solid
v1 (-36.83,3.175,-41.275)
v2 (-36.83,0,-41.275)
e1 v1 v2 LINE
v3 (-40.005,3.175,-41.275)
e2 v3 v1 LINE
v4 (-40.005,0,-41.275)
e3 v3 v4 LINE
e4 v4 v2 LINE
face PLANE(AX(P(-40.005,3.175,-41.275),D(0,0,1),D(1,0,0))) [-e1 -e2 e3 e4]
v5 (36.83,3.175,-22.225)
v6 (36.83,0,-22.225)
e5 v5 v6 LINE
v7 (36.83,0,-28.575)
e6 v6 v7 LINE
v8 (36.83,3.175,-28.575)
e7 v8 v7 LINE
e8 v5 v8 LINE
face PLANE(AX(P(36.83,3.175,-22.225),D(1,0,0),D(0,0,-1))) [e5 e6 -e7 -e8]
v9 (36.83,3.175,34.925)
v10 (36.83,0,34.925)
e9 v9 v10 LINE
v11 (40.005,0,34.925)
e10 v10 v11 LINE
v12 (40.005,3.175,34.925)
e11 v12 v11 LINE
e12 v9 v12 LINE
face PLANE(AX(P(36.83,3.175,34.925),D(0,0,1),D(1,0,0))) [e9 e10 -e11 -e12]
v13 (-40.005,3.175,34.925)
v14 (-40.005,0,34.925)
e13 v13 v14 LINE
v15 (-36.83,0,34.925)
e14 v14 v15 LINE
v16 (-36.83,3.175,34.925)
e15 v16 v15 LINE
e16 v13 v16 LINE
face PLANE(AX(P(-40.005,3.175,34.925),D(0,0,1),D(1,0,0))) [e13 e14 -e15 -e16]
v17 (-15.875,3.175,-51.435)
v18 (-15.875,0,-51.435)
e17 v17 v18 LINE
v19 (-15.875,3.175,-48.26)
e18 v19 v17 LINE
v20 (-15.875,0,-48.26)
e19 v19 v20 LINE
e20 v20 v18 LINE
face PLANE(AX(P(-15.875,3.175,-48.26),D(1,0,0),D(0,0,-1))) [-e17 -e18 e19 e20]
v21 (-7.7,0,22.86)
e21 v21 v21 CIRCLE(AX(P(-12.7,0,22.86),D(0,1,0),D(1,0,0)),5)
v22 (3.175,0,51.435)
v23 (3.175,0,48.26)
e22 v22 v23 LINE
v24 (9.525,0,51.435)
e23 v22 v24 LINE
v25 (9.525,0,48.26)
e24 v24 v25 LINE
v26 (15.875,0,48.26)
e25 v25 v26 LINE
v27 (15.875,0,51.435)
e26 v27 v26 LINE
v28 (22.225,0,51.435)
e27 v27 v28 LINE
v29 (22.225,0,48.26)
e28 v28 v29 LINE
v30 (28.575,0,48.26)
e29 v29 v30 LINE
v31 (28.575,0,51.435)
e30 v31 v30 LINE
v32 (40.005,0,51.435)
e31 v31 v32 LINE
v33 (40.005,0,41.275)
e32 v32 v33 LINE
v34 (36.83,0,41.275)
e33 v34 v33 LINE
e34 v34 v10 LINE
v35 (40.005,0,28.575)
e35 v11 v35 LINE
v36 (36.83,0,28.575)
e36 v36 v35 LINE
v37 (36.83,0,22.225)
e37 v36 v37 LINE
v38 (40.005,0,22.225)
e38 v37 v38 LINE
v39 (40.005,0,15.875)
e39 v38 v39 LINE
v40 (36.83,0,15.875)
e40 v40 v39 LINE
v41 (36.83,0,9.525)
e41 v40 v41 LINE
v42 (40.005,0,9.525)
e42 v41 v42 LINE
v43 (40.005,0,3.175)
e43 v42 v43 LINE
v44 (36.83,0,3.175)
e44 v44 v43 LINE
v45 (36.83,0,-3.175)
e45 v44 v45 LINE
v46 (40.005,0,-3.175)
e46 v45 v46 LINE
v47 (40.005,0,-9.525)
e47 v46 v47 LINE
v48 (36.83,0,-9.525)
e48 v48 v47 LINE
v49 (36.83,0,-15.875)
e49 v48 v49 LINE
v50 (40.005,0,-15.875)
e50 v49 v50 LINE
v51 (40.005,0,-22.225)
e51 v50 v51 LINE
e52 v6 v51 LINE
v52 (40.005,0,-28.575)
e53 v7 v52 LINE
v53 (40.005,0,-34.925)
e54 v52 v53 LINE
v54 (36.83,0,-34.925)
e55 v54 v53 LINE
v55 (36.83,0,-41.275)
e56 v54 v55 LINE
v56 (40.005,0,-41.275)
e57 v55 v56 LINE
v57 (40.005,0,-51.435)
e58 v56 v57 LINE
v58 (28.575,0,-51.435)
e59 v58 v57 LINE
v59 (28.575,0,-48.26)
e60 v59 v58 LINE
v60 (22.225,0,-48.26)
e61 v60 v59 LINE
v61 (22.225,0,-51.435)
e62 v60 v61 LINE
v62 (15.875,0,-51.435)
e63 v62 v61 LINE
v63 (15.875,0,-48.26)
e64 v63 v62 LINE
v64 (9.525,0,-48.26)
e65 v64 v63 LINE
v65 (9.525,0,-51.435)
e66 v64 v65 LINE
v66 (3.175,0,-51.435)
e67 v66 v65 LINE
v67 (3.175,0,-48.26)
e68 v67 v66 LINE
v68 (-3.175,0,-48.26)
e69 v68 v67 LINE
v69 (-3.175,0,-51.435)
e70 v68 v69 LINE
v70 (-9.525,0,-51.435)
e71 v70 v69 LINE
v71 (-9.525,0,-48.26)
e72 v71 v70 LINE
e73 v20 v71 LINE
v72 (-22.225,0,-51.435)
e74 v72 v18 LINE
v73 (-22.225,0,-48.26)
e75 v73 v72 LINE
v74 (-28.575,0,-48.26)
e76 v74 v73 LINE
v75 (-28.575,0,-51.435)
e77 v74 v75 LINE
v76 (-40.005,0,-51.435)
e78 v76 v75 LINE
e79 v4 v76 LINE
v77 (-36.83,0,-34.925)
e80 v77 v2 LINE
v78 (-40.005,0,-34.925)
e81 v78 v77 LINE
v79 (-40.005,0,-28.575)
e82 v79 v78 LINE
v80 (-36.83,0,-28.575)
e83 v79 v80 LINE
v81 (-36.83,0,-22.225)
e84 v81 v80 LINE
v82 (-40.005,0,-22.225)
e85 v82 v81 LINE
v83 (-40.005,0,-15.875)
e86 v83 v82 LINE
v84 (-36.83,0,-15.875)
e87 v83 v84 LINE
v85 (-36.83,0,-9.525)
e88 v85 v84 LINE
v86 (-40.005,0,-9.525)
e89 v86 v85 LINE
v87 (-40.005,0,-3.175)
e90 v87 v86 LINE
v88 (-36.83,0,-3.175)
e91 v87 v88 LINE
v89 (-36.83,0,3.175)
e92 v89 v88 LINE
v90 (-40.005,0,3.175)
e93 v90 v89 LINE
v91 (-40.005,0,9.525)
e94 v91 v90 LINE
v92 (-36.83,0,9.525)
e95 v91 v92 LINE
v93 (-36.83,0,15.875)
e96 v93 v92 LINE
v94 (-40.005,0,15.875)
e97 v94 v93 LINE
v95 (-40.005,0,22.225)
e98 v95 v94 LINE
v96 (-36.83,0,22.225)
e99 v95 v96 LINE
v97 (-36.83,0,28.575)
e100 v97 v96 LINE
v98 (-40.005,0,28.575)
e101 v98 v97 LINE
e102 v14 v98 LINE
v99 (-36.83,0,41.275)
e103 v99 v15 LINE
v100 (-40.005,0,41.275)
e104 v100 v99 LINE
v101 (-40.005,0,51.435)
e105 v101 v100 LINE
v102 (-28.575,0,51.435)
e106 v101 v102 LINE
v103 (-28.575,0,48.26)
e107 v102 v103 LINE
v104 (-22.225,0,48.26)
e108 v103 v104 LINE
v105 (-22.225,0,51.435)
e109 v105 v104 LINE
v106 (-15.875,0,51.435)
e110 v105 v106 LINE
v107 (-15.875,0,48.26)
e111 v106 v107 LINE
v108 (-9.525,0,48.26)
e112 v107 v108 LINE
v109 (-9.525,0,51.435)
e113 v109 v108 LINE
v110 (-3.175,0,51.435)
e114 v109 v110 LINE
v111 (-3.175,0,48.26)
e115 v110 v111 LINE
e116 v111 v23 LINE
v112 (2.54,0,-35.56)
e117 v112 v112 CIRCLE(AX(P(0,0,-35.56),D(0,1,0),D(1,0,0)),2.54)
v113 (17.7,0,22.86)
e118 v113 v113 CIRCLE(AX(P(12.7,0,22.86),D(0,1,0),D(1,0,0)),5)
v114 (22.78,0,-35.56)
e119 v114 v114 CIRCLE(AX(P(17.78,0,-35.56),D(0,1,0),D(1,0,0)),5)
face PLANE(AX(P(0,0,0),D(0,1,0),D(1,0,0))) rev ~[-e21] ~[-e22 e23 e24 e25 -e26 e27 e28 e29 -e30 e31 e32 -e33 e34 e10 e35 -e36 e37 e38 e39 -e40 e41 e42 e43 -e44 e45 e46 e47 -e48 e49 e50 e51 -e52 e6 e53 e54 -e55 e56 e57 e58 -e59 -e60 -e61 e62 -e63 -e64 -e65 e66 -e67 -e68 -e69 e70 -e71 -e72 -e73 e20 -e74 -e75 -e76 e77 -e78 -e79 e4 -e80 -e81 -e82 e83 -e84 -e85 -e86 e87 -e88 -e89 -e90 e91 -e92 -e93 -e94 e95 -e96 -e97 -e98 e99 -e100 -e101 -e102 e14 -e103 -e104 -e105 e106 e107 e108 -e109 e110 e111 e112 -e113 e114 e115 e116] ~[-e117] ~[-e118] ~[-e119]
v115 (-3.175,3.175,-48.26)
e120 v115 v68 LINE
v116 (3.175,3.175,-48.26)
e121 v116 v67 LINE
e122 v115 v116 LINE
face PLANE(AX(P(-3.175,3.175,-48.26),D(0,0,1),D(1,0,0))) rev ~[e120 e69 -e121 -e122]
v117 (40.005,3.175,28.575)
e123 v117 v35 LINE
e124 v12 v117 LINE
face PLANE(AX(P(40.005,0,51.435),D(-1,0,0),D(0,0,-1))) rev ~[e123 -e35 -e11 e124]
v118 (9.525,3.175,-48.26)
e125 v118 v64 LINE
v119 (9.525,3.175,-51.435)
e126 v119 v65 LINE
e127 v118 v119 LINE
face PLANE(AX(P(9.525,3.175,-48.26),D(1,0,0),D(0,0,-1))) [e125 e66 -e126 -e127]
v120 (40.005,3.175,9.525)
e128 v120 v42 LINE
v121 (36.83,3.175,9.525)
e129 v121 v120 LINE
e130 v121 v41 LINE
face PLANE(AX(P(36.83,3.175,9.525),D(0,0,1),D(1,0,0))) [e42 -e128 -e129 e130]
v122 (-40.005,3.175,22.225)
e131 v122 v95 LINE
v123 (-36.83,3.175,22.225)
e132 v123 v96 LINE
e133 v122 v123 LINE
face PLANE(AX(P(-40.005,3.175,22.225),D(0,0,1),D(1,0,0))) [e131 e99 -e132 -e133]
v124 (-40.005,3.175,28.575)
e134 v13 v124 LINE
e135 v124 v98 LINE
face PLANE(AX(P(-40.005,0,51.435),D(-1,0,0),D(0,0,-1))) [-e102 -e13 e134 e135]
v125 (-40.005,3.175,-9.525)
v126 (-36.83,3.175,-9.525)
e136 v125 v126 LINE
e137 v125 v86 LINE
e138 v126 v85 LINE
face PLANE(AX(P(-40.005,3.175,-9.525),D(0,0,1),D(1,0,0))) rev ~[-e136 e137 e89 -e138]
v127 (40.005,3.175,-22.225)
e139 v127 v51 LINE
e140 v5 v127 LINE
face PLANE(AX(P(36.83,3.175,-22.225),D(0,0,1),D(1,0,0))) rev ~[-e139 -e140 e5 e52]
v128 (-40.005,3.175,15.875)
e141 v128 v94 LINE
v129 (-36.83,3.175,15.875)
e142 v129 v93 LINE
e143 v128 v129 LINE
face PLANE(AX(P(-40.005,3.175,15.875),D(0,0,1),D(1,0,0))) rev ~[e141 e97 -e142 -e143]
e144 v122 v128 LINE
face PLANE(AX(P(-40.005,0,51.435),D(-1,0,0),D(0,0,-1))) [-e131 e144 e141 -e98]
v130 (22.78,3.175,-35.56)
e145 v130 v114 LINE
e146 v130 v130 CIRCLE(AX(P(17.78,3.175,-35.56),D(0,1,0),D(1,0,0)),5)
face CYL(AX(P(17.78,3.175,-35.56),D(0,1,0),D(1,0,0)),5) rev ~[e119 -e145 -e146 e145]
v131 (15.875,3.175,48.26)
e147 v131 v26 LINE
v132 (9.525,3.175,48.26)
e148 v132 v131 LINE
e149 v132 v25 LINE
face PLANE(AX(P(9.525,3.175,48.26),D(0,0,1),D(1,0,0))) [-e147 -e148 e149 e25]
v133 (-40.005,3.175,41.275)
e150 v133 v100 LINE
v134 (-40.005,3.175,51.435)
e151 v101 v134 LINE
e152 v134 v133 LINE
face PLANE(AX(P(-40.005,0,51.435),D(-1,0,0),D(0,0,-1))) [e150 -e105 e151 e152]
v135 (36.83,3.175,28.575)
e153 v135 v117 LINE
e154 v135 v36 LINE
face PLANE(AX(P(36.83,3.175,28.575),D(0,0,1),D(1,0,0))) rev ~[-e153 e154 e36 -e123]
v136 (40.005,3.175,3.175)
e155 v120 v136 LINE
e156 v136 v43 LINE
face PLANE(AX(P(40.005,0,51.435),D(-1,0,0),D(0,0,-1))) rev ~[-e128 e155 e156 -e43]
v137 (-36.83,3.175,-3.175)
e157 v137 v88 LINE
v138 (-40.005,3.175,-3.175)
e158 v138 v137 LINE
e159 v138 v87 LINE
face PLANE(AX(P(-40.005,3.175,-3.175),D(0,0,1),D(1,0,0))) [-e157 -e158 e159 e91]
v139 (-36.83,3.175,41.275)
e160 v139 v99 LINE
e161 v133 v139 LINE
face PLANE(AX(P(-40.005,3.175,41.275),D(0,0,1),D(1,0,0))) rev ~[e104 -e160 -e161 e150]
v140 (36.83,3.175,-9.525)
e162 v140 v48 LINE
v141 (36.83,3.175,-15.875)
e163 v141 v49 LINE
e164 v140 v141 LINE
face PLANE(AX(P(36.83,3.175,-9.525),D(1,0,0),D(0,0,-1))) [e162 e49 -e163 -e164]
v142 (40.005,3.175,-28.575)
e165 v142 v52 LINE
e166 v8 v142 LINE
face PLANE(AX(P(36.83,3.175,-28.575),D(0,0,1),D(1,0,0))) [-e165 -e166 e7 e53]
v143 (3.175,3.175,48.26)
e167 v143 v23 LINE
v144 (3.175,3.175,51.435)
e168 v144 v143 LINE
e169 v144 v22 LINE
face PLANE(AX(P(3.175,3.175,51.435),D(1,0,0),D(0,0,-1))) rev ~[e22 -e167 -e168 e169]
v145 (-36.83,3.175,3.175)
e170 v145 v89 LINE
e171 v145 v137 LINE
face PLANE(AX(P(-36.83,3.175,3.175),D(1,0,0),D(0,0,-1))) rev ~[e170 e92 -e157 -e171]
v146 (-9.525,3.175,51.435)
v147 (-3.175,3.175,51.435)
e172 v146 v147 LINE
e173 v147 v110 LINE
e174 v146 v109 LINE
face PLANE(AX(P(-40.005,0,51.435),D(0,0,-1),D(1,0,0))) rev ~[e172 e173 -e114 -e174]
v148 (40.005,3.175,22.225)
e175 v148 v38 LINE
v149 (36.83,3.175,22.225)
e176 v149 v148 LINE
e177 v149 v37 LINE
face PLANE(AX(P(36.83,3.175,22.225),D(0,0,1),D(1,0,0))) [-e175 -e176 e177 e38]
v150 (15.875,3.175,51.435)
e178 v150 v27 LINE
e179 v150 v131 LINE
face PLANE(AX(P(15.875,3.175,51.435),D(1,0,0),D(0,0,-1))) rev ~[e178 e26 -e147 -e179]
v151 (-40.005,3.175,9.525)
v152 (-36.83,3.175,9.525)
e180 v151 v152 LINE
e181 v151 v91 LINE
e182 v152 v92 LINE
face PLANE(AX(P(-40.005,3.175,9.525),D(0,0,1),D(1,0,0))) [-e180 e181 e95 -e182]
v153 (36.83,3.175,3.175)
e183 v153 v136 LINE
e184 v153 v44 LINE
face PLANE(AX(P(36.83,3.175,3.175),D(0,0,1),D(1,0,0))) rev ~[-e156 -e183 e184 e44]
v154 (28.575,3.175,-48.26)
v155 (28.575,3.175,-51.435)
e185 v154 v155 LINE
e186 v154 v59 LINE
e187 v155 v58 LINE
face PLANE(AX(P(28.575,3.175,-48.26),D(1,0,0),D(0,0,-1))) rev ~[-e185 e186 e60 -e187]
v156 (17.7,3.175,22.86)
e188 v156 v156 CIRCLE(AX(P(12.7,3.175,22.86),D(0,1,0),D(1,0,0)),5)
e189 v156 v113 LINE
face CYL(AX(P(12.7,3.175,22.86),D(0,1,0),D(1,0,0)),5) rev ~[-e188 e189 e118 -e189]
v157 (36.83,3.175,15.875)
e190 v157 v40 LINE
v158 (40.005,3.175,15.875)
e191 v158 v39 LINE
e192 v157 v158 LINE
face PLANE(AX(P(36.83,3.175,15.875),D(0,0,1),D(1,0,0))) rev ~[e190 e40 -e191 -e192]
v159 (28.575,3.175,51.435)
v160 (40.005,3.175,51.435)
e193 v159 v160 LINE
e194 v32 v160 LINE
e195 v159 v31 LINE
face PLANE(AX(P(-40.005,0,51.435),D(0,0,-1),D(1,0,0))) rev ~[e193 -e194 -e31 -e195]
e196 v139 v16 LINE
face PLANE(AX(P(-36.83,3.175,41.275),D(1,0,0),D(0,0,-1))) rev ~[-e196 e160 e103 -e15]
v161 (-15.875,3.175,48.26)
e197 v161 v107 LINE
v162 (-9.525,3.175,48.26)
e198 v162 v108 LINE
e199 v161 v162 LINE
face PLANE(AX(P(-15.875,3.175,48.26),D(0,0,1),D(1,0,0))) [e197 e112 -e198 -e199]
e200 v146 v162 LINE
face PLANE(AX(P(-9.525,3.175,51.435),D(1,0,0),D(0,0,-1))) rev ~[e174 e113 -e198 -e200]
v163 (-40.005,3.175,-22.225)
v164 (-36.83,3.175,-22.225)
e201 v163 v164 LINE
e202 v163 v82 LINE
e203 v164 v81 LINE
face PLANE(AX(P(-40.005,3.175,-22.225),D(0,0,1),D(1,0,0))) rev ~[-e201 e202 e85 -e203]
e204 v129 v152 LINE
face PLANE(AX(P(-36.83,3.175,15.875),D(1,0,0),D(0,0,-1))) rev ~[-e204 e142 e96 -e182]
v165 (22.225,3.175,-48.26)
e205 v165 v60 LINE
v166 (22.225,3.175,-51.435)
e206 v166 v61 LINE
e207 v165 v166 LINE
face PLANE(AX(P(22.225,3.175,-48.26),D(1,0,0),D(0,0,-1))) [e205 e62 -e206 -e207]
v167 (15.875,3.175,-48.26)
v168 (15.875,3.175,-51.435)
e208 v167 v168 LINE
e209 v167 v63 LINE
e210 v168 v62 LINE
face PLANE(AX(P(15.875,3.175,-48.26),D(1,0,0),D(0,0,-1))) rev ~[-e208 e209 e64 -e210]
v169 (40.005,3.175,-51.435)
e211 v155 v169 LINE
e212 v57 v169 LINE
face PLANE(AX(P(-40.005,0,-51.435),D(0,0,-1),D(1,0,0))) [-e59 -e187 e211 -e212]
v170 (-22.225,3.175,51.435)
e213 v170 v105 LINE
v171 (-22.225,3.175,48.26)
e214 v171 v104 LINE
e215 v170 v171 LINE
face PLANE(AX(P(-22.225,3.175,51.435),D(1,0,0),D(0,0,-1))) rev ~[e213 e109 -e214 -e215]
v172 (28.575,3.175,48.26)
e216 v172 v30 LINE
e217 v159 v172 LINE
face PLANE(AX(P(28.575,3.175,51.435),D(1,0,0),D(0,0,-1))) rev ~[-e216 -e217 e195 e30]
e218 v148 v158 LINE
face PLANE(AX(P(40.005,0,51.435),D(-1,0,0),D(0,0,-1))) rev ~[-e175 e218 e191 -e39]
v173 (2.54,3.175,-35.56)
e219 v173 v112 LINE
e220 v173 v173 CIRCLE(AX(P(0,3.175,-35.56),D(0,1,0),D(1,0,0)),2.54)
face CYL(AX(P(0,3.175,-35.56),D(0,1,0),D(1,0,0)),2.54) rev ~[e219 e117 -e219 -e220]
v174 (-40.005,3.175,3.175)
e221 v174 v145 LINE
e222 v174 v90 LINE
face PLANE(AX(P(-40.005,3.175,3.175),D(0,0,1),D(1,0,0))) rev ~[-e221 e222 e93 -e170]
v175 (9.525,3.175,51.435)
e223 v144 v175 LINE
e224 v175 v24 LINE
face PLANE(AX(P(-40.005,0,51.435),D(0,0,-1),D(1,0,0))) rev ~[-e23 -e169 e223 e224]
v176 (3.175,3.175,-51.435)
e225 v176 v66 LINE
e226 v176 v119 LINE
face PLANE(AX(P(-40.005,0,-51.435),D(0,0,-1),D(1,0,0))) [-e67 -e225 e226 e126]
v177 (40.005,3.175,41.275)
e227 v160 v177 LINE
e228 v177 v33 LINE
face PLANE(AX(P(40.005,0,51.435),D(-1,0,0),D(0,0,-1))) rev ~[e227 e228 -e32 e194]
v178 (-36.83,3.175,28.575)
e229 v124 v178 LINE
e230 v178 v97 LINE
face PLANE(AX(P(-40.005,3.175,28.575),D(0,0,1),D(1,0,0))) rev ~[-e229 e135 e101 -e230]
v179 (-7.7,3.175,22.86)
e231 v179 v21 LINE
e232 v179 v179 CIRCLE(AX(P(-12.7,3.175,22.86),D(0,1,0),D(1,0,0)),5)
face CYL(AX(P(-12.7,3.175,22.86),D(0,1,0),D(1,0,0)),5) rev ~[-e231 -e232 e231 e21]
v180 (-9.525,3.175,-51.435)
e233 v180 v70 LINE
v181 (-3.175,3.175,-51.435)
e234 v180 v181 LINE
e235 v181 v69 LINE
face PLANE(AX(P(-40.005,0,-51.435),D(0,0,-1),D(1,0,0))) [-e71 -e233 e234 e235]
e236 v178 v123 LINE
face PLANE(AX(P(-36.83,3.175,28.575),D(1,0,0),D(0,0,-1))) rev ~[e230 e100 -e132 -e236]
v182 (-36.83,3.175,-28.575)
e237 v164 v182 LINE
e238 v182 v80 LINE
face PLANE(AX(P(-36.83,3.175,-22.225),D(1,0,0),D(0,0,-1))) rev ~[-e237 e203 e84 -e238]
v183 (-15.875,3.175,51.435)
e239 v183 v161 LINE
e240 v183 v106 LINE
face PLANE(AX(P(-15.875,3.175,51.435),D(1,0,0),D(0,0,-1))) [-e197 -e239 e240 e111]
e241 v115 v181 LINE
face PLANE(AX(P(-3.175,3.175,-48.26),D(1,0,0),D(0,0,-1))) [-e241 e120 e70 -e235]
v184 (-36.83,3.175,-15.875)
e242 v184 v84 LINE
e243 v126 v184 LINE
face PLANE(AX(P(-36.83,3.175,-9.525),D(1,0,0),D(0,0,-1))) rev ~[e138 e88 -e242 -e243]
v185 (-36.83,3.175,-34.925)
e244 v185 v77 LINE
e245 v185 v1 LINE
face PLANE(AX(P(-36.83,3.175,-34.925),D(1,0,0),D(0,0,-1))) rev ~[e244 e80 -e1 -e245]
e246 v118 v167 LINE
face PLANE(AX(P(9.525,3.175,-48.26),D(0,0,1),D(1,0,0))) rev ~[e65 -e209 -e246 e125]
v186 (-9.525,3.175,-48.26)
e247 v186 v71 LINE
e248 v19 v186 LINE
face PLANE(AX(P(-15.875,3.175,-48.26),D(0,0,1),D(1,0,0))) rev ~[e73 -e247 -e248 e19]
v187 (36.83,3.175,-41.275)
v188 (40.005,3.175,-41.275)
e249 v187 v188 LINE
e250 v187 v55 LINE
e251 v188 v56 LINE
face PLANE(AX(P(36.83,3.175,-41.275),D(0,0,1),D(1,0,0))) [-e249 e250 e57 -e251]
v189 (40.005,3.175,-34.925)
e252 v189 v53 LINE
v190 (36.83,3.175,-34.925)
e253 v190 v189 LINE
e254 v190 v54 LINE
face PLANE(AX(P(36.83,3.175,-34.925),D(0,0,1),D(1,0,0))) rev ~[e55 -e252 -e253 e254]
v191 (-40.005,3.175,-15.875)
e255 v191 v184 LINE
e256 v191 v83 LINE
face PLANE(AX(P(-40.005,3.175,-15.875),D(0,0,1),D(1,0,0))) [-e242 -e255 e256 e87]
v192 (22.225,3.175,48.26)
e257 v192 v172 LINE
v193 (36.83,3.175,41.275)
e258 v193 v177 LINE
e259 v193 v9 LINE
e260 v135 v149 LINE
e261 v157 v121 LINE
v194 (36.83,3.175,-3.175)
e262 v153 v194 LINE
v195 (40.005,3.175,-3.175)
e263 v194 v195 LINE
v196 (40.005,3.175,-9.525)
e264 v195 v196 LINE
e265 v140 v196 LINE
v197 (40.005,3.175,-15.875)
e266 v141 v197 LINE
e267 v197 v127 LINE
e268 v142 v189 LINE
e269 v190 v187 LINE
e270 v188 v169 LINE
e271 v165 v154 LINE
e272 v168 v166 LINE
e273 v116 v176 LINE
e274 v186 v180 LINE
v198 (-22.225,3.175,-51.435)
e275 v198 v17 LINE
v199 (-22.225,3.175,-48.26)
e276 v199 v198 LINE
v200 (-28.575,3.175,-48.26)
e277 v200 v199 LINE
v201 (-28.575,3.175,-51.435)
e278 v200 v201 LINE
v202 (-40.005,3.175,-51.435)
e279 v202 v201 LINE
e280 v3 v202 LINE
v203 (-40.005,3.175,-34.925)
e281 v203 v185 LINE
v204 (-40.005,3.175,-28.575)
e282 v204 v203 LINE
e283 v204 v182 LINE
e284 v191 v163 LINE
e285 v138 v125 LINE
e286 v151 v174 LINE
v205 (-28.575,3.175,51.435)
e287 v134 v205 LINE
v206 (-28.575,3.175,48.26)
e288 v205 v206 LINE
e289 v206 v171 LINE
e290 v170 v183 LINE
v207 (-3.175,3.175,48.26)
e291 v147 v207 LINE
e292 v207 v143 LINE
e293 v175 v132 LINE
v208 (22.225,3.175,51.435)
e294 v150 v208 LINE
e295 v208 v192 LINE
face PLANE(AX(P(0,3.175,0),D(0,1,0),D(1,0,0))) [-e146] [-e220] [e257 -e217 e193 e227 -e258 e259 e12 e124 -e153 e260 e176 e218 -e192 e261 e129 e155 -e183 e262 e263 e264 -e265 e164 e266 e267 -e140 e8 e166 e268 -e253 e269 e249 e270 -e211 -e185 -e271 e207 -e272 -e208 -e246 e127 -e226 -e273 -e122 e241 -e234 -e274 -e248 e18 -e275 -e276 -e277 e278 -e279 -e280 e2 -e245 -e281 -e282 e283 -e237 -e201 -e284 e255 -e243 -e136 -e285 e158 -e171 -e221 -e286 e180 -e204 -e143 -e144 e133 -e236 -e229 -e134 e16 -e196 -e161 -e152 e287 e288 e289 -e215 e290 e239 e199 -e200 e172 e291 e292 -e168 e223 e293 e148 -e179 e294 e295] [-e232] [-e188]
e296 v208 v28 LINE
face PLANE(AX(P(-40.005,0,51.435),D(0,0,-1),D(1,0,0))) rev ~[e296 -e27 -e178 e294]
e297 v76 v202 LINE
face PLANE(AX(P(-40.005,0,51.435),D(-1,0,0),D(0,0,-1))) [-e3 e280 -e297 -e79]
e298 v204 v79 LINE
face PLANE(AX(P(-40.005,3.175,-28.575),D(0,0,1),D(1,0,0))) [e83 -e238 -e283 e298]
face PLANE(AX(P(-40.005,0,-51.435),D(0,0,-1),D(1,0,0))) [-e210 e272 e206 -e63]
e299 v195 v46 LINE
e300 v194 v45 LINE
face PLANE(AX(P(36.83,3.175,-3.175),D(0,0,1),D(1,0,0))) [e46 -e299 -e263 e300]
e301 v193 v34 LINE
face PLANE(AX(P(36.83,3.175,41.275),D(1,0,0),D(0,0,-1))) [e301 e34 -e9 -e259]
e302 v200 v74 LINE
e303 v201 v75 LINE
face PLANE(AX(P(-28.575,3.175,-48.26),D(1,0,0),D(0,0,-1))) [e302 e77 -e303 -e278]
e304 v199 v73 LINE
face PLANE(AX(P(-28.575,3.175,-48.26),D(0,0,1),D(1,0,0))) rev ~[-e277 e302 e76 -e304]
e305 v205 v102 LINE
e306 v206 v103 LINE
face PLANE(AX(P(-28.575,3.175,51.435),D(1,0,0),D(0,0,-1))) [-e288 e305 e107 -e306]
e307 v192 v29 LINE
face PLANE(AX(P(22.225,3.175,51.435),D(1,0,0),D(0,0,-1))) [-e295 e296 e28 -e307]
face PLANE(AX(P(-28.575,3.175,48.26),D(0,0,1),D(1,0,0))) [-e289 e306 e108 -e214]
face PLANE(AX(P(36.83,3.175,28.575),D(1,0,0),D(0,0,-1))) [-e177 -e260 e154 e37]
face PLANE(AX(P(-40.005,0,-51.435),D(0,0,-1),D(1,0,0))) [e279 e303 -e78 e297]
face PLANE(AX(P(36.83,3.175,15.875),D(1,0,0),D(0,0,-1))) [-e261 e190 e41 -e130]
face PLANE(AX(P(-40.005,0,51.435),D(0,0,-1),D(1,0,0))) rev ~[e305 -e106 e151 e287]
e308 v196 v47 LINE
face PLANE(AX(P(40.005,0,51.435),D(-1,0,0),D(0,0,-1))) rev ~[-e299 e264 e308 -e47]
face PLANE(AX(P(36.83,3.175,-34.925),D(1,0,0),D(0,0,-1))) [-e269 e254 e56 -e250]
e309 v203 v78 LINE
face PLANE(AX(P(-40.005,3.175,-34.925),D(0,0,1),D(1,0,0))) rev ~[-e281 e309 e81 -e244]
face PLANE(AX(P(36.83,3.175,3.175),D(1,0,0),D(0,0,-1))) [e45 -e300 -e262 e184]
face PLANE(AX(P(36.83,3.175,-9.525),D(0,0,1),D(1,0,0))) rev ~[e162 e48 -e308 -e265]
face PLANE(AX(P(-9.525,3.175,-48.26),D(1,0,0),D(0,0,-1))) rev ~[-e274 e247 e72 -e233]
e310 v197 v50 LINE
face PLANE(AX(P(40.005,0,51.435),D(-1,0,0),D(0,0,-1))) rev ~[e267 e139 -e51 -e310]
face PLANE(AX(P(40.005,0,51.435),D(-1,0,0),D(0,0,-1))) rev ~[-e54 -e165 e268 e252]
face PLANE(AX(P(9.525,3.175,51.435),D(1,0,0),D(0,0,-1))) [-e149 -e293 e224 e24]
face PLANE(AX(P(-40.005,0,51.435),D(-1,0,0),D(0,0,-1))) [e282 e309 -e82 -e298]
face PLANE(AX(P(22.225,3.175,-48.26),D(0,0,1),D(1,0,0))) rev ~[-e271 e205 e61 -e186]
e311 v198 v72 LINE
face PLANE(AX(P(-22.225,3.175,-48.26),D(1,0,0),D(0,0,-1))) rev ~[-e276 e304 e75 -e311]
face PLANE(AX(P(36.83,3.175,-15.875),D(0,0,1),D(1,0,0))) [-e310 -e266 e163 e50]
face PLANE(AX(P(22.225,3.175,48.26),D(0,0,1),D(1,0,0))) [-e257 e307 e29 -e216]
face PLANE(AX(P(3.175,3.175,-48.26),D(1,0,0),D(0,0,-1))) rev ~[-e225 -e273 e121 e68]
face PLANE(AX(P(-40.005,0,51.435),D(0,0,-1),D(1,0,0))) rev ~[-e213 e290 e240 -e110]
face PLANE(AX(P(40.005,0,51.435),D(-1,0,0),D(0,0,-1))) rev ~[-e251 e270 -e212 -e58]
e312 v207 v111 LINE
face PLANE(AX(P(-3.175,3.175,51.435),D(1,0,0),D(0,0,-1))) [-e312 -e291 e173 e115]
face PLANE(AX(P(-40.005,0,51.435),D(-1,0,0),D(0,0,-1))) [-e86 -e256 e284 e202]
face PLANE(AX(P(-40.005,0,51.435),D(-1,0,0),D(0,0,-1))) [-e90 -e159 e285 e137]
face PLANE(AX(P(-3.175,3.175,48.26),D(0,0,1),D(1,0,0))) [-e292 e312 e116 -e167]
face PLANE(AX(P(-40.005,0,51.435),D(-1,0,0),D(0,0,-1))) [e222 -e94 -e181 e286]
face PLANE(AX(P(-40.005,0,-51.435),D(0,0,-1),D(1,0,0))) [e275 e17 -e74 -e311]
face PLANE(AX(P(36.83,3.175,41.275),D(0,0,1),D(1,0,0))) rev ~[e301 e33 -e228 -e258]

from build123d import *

# Parameters (mm, degrees)
SKETCH1_W           = 80.01
SKETCH1_H           = 102.87
BOSS_EXTRUDE1_DEPTH = 3.175
SKETCH2_W           = 3.175
SKETCH2_H           = 6.35
CUT_EXTRUDE1_DEPTH  = 4.175
SKETCH3_W           = 6.35
SKETCH3_H           = 3.175
CUT_EXTRUDE2_DEPTH  = 4.175
SKETCH4_R           = 2.54
SKETCH4_R_2         = 5
CUT_EXTRUDE3_DEPTH  = 4.175


with BuildPart() as part:
    # Sketch1 → Boss-Extrude1 (new body)
    with BuildSketch(Plane(origin=(0, 0, 0), x_dir=(1, 0, 0), z_dir=(0, 1, 0))):
        Rectangle(SKETCH1_W, SKETCH1_H)
    extrude(amount=BOSS_EXTRUDE1_DEPTH)

    # Sketch2 → Cut-Extrude1 (cut, through all)
    with BuildSketch(Plane(origin=(0, 3.175, 0), x_dir=(1, 0, 0), z_dir=(0, 1, 0))):
        with Locations((-38.4175, -38.1)):
            Rectangle(SKETCH2_W, SKETCH2_H)
        with Locations((-38.4175, -25.4)):
            Rectangle(SKETCH2_W, SKETCH2_H)
        with Locations((-38.4175, -12.7)):
            Rectangle(SKETCH2_W, SKETCH2_H)
        with Locations((-38.4175, 0)):
            Rectangle(SKETCH2_W, SKETCH2_H)
        with Locations((-38.4175, 12.7)):
            Rectangle(SKETCH2_W, SKETCH2_H)
        with Locations((-38.4175, 25.4)):
            Rectangle(SKETCH2_W, SKETCH2_H)
        with Locations((38.4175, 25.4)):
            Rectangle(SKETCH2_W, SKETCH2_H)
        with Locations((38.4175, 12.7)):
            Rectangle(SKETCH2_W, SKETCH2_H)
        with Locations((38.4175, 0)):
            Rectangle(SKETCH2_W, SKETCH2_H)
        with Locations((38.4175, -12.7)):
            Rectangle(SKETCH2_W, SKETCH2_H)
        with Locations((38.4175, -25.4)):
            Rectangle(SKETCH2_W, SKETCH2_H)
        with Locations((38.4175, -38.1)):
            Rectangle(SKETCH2_W, SKETCH2_H)
        with Locations((-38.4175, 38.1)):
            Rectangle(SKETCH2_W, SKETCH2_H)
        with Locations((38.4175, 38.1)):
            Rectangle(SKETCH2_W, SKETCH2_H)
    extrude(amount=-CUT_EXTRUDE1_DEPTH, mode=Mode.SUBTRACT)

    # Sketch3 → Cut-Extrude2 (cut, through all)
    with BuildSketch(Plane(origin=(0, 3.175, 0), x_dir=(1, 0, 0), z_dir=(0, 1, 0))):
        with Locations((25.4, 49.8475)):
            Rectangle(SKETCH3_W, SKETCH3_H)
        with Locations((12.7, 49.8475)):
            Rectangle(SKETCH3_W, SKETCH3_H)
        with Locations((0, 49.8475)):
            Rectangle(SKETCH3_W, SKETCH3_H)
        with Locations((-12.7, 49.8475)):
            Rectangle(SKETCH3_W, SKETCH3_H)
        with Locations((-12.7, -49.8475)):
            Rectangle(SKETCH3_W, SKETCH3_H)
        with Locations((0, -49.8475)):
            Rectangle(SKETCH3_W, SKETCH3_H)
        with Locations((12.7, -49.8475)):
            Rectangle(SKETCH3_W, SKETCH3_H)
        with Locations((25.4, -49.8475)):
            Rectangle(SKETCH3_W, SKETCH3_H)
        with Locations((-25.4, -49.8475)):
            Rectangle(SKETCH3_W, SKETCH3_H)
        with Locations((-25.4, 49.8475)):
            Rectangle(SKETCH3_W, SKETCH3_H)
    extrude(amount=-CUT_EXTRUDE2_DEPTH, mode=Mode.SUBTRACT)

    # Sketch4 → Cut-Extrude3 (cut, through all)
    with BuildSketch(Plane(origin=(0, 3.175, 0), x_dir=(1, 0, 0), z_dir=(0, 1, 0))):
        with Locations((0, 35.56)):
            Circle(SKETCH4_R)
        with Locations((17.78, 35.56)):
            Circle(SKETCH4_R_2)
        with Locations((12.7, -22.86)):
            Circle(SKETCH4_R_2)
        with Locations((-12.7, -22.86)):
            Circle(SKETCH4_R_2)
    extrude(amount=-CUT_EXTRUDE3_DEPTH, mode=Mode.SUBTRACT)


solid = part.part
